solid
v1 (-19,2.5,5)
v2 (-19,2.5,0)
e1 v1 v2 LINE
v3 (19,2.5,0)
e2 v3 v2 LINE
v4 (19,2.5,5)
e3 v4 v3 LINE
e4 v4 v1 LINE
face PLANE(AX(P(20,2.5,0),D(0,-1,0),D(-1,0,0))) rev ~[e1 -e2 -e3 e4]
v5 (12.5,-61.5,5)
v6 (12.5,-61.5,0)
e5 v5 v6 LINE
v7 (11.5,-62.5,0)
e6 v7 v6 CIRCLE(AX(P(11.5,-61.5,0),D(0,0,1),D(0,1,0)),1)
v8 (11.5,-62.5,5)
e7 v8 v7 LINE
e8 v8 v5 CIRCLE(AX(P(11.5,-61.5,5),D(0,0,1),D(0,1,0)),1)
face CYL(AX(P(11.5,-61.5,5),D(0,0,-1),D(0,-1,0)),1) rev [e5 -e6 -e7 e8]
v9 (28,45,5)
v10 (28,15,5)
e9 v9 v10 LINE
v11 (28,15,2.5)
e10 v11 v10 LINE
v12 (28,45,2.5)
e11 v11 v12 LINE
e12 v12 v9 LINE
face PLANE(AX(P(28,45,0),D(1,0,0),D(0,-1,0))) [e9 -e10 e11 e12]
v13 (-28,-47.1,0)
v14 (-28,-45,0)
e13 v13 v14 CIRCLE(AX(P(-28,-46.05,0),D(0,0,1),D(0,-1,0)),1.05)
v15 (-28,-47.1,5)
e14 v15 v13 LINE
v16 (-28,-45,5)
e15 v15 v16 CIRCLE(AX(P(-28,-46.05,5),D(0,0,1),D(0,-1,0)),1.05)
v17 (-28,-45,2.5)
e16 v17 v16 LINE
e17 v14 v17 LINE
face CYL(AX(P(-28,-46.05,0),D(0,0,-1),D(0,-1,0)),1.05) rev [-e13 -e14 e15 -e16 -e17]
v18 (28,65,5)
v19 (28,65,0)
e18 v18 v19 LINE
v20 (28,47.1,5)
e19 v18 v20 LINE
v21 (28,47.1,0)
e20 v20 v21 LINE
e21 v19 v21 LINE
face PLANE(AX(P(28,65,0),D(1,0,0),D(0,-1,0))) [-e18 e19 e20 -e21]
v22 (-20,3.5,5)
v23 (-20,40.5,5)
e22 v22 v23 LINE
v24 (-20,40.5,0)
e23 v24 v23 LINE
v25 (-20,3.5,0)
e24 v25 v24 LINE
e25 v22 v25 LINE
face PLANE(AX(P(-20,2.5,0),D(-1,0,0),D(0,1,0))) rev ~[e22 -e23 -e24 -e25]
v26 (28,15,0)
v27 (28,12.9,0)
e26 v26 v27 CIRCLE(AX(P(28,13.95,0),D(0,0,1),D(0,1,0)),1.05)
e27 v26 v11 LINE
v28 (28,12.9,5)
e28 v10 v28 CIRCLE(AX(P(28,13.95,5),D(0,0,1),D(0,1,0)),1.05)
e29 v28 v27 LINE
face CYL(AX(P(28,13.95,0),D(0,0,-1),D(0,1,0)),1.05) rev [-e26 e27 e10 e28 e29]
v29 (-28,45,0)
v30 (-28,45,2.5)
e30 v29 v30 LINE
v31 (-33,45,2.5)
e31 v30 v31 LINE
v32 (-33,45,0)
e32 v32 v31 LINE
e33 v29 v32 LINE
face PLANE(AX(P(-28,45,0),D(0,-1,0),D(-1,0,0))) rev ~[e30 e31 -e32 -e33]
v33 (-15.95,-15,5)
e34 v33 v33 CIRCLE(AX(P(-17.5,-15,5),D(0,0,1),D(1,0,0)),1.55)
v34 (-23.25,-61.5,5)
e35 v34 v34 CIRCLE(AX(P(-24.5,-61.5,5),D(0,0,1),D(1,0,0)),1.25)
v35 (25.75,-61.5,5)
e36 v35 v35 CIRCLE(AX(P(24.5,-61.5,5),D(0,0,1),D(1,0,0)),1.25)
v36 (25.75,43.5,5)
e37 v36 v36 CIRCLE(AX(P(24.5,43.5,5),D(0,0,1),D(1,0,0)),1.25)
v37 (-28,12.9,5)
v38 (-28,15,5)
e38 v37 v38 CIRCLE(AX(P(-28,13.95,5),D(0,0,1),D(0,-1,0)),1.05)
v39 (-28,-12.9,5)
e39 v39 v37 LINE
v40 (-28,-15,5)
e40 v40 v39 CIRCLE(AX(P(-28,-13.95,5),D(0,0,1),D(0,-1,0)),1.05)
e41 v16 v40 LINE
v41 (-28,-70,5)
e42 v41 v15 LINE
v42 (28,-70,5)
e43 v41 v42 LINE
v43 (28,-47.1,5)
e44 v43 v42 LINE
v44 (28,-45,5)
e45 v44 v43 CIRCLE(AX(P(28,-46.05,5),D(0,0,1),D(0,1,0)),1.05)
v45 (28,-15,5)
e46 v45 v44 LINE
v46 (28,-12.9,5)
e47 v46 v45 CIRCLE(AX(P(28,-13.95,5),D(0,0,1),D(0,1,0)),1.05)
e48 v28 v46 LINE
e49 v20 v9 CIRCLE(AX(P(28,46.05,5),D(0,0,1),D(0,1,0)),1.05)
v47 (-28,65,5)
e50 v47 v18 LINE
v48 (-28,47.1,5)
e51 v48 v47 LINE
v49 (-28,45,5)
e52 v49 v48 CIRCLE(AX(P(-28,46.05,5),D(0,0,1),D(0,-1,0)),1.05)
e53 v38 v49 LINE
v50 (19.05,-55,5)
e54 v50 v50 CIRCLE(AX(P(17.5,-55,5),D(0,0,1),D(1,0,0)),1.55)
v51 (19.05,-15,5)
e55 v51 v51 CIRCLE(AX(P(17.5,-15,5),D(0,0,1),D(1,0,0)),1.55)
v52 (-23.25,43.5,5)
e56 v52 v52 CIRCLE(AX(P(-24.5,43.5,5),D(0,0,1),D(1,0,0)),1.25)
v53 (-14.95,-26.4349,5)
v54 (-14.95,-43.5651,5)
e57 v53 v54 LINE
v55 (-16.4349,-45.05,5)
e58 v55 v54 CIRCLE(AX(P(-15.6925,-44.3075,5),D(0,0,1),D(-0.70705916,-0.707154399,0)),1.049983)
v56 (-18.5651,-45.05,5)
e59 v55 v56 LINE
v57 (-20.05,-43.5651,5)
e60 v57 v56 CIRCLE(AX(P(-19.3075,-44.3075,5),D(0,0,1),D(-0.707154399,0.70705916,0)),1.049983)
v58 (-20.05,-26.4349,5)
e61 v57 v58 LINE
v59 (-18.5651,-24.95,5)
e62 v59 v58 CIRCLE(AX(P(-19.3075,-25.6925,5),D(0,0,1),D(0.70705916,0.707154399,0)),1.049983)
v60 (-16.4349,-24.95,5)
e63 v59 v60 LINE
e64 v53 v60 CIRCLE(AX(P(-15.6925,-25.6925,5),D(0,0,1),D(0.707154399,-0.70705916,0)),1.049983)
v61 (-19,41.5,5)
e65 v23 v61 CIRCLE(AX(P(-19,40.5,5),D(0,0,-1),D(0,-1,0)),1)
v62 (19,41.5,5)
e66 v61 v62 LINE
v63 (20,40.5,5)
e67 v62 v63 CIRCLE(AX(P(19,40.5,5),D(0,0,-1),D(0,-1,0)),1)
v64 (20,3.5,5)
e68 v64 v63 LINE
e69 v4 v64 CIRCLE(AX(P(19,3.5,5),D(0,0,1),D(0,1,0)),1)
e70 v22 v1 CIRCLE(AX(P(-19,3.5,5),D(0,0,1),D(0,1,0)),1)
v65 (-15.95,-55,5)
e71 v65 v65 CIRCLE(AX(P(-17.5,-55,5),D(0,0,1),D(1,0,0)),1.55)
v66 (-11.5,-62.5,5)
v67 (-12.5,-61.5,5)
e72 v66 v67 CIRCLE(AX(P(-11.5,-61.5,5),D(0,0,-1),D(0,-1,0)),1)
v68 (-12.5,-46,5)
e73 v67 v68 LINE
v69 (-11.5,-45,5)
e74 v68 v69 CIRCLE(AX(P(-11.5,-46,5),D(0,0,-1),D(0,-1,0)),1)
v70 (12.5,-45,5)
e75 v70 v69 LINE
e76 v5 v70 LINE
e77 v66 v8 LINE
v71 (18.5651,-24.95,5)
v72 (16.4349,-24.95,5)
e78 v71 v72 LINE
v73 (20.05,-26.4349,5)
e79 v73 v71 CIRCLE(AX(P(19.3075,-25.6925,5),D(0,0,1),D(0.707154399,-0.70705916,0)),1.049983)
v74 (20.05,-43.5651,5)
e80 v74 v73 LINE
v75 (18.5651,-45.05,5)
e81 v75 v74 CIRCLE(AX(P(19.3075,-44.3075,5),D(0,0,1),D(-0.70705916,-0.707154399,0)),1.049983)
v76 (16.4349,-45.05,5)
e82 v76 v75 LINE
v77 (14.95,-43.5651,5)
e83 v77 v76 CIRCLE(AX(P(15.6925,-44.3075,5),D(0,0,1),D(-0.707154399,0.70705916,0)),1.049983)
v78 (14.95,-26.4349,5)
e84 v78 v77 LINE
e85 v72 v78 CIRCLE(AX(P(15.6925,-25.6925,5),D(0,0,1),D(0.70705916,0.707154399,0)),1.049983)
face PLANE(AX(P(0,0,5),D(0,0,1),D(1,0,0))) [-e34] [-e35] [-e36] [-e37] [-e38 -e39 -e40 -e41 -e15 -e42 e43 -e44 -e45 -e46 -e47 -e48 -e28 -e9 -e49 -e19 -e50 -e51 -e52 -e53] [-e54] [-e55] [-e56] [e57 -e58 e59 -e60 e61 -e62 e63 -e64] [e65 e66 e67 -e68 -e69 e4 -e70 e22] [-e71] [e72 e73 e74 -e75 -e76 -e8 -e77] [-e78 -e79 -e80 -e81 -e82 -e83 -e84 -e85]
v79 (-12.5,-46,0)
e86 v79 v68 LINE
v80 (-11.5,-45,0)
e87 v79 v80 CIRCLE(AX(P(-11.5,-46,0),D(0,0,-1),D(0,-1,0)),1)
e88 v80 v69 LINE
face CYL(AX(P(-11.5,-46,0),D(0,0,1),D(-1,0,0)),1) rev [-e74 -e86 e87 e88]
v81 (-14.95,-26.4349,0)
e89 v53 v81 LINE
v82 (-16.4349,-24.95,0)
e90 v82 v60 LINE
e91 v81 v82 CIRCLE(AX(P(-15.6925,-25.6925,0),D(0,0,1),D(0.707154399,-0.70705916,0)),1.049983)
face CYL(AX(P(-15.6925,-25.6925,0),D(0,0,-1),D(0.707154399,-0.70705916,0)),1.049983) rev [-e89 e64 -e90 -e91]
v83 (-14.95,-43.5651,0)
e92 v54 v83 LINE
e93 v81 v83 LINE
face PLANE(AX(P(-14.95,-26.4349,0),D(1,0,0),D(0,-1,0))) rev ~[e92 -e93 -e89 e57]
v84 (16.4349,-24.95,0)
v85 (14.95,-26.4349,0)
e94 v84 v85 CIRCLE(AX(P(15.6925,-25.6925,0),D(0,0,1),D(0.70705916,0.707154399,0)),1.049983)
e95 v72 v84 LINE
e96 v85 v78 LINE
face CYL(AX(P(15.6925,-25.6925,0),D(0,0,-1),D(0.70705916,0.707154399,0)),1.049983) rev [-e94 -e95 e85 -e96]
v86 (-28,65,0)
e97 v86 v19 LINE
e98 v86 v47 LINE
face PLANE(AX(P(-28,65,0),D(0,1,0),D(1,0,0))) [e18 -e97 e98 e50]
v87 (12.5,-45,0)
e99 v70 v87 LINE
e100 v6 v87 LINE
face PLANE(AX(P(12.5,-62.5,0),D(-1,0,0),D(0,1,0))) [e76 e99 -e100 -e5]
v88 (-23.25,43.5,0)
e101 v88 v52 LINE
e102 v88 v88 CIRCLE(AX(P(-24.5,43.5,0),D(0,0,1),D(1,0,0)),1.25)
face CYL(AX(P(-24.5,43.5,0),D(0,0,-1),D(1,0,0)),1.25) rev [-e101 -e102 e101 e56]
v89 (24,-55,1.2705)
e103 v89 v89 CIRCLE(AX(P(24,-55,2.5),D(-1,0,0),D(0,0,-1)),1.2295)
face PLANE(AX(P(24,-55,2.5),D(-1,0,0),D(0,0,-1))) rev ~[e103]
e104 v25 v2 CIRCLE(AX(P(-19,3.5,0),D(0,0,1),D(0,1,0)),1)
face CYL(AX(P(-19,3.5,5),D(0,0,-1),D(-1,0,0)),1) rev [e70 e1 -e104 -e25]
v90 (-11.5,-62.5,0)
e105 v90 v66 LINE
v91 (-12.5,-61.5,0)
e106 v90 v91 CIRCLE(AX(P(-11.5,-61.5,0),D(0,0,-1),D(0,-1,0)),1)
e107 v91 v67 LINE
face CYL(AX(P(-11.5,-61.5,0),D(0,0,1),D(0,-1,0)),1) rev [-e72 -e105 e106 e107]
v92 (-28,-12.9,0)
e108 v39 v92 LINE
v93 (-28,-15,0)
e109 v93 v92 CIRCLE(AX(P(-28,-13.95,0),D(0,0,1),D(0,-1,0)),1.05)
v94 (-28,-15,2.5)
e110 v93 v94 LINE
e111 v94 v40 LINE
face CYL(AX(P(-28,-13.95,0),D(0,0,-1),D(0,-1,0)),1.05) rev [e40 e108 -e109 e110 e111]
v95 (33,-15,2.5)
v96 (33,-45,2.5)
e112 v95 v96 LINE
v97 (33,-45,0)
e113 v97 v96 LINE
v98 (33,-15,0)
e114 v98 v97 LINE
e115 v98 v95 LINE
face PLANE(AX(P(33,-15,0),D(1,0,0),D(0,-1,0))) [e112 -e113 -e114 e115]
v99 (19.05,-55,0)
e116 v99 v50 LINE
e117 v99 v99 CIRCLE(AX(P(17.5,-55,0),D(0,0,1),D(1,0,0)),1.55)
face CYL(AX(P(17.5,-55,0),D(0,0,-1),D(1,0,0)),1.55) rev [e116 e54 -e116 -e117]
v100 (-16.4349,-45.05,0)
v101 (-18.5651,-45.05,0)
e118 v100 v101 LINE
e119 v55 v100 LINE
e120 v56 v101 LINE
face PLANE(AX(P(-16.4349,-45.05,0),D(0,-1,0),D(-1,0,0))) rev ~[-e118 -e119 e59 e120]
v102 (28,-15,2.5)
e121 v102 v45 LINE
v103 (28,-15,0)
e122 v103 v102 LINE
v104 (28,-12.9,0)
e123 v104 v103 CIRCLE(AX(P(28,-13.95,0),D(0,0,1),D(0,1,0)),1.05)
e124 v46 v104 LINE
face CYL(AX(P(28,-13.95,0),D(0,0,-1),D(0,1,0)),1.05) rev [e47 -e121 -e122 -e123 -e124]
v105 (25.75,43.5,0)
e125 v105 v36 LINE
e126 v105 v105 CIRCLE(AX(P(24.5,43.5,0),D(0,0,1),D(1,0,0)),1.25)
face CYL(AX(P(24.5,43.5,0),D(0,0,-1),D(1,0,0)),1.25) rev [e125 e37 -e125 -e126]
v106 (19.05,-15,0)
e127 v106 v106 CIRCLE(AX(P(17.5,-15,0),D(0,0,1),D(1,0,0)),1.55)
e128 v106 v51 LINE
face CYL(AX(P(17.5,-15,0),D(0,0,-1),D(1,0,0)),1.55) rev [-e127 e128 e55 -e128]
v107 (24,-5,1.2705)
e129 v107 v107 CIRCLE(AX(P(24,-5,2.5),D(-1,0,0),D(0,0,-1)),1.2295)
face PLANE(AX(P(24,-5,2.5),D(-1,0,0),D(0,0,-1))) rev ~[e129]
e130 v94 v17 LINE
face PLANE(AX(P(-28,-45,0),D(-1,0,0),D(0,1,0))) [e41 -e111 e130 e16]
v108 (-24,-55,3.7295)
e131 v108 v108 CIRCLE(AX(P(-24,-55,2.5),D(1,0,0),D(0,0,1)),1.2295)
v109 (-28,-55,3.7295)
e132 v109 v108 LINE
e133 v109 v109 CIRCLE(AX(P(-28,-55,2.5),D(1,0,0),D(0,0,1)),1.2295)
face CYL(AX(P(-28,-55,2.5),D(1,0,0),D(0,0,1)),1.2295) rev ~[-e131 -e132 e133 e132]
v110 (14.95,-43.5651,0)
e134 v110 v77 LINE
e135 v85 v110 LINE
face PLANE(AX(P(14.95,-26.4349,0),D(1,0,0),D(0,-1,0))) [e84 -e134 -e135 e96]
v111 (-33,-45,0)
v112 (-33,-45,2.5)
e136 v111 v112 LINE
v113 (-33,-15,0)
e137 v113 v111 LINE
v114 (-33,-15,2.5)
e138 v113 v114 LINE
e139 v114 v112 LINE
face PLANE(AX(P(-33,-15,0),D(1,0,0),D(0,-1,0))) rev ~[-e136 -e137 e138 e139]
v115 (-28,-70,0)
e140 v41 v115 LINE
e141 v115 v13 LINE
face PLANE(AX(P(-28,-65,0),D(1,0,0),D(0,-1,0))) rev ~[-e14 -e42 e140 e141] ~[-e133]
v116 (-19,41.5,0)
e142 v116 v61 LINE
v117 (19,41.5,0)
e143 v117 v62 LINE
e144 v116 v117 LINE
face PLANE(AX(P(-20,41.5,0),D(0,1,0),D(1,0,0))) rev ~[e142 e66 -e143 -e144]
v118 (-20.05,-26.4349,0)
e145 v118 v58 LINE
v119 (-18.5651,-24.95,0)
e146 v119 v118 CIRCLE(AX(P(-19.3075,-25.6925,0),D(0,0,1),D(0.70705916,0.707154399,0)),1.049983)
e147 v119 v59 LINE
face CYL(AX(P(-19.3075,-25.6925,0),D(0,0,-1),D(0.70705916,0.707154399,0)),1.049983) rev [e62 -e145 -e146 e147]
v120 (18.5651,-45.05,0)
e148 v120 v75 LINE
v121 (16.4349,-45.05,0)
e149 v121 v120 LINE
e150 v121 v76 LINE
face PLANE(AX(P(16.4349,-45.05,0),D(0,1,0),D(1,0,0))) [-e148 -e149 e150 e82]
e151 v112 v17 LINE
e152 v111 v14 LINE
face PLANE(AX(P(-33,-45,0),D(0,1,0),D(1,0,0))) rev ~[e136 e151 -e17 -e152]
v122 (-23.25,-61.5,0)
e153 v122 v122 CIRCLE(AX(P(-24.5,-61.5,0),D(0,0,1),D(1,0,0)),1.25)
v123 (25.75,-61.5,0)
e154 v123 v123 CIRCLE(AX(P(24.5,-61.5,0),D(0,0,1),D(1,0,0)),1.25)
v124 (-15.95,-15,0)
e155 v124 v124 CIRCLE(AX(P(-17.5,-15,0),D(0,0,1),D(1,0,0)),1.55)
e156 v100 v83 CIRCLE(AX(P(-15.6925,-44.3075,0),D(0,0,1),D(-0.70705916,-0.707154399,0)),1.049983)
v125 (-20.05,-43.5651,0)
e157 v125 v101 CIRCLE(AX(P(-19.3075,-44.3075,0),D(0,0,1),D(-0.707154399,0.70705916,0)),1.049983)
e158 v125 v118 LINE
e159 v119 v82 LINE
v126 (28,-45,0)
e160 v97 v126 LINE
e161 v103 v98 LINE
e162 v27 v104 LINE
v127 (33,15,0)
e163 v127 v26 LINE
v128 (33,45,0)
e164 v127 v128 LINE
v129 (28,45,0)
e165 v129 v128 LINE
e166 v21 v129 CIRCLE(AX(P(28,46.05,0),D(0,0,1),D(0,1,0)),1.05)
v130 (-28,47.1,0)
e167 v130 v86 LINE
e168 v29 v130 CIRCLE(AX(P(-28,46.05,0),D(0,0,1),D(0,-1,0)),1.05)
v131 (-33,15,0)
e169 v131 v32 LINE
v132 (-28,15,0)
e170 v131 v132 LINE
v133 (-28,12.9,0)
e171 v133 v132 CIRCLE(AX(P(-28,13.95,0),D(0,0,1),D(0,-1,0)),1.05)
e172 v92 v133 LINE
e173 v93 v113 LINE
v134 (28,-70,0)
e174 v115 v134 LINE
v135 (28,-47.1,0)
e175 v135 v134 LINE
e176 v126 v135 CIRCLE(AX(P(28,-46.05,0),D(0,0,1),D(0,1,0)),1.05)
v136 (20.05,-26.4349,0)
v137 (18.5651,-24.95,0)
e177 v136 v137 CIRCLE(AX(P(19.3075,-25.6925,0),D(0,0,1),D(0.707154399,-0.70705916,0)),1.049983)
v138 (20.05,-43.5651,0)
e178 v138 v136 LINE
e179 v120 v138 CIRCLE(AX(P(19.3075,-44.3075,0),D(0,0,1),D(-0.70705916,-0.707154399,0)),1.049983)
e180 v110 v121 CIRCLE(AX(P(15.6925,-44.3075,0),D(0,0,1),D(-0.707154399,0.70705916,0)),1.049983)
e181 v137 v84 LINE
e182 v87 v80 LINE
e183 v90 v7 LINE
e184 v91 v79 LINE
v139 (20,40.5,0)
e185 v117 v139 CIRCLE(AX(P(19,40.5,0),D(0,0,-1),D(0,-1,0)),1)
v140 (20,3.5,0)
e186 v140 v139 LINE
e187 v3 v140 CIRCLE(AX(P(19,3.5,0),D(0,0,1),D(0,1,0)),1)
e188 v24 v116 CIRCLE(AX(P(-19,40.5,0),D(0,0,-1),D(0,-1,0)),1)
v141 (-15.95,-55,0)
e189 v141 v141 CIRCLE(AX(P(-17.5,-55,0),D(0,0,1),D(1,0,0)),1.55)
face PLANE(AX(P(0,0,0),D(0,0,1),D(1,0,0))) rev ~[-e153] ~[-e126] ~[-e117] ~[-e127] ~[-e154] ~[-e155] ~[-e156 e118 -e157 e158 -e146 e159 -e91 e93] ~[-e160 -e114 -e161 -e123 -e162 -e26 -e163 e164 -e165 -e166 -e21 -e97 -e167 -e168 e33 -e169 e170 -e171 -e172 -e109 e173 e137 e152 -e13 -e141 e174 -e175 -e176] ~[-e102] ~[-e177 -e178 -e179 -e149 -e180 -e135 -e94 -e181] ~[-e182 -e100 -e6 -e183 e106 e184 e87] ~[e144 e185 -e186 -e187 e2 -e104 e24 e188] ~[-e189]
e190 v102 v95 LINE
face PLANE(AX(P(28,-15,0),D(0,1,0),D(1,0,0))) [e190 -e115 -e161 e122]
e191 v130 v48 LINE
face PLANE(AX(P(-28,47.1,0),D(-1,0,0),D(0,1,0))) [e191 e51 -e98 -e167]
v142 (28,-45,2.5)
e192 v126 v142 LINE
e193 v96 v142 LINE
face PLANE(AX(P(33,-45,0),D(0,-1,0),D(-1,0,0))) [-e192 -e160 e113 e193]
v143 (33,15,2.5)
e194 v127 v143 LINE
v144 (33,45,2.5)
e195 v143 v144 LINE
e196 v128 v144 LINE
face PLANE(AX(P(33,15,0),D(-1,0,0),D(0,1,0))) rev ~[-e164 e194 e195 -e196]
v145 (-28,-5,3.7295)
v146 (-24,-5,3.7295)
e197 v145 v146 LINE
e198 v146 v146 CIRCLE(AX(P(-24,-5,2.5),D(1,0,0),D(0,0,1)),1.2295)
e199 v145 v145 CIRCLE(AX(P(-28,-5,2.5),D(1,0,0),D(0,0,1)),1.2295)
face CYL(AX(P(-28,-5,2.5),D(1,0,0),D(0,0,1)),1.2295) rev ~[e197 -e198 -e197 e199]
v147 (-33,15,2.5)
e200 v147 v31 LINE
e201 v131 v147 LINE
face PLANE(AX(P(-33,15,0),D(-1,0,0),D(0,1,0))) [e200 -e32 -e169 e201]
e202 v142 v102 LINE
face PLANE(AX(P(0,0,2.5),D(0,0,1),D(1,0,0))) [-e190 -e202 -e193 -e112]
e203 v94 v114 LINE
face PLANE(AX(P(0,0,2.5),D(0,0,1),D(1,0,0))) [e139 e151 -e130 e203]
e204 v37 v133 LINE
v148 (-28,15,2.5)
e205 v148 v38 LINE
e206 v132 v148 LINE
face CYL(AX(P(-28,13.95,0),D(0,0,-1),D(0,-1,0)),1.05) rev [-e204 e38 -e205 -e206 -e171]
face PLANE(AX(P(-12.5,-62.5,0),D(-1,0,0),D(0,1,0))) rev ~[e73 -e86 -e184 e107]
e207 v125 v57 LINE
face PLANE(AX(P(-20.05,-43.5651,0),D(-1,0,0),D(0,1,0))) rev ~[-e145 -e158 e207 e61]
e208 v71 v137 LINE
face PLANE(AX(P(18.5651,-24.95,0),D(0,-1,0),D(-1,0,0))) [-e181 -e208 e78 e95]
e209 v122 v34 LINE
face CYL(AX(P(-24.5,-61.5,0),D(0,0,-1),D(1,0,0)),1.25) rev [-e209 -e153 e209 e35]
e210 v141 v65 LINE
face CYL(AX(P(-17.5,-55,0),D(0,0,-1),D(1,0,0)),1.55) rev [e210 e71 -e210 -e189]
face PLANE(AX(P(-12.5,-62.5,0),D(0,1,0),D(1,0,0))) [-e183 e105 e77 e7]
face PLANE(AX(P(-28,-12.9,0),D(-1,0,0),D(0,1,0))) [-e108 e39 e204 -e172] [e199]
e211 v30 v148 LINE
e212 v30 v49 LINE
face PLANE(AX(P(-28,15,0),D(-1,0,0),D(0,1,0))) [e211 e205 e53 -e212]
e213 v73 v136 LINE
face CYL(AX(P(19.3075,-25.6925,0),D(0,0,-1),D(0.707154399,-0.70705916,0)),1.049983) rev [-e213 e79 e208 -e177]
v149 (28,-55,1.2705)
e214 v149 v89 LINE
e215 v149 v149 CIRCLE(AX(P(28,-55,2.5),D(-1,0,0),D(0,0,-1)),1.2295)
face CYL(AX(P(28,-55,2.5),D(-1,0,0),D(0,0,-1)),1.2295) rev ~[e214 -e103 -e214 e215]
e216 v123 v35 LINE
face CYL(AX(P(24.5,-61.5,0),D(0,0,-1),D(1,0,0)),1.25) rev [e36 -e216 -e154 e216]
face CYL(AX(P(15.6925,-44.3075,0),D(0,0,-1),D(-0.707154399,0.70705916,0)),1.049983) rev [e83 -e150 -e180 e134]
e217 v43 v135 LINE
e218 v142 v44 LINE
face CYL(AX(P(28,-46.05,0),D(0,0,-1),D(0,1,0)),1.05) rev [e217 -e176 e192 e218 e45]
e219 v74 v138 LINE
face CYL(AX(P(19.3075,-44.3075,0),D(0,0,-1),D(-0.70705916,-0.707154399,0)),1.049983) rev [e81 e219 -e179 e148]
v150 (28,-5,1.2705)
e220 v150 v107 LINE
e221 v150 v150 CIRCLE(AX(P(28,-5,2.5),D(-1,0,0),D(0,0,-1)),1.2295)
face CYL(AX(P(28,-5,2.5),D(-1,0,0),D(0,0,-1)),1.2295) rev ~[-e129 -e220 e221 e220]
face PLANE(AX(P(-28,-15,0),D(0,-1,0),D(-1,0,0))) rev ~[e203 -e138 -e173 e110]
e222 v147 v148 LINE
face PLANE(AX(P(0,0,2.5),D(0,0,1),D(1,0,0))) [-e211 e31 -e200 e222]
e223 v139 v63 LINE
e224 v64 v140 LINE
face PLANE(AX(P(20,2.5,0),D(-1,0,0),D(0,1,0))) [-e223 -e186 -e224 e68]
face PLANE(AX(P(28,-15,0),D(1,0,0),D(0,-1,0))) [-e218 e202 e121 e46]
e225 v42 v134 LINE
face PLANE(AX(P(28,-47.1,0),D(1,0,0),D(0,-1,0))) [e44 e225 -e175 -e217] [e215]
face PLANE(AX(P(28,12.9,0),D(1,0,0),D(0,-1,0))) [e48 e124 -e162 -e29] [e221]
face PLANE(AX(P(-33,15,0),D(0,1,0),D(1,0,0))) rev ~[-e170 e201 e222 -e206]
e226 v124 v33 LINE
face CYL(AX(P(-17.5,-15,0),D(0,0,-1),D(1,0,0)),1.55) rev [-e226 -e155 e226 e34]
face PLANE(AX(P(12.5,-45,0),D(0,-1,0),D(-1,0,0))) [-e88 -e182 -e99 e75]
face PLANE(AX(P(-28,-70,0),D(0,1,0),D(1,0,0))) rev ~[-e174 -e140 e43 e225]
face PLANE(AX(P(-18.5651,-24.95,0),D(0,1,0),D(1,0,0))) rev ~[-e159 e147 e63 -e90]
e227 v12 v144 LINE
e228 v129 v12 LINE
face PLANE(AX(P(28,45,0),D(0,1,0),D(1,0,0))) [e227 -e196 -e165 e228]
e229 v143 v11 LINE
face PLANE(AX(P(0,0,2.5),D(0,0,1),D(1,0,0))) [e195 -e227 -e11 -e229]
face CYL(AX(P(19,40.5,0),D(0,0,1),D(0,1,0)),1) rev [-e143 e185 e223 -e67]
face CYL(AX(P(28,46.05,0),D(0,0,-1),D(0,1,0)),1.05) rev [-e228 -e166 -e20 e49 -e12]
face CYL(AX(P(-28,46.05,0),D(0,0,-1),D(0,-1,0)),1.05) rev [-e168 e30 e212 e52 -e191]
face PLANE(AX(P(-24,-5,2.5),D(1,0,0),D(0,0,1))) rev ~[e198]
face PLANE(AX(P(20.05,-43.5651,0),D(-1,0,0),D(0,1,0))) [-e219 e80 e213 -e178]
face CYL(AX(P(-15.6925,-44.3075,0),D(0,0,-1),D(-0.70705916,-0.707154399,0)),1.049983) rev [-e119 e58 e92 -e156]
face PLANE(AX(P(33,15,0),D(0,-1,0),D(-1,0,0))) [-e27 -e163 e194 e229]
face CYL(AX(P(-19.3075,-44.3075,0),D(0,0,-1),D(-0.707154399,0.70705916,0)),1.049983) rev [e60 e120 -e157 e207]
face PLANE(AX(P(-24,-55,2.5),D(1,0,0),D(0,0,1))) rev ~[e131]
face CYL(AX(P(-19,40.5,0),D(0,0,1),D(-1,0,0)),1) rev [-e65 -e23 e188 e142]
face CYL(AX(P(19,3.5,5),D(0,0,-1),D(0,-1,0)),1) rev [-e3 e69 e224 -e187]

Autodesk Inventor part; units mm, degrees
ref_plane "YZ Plane" through (0, 0, 0) normal (1, 0, 0) x (0, 1, 0)
ref_plane "XZ Plane" through (0, 0, 0) normal (0, 1, 0) x (-1, 0, 0)
ref_plane "XY Plane" through (0, 0, 0) normal (0, 0, 1) x (1, 0, 0)
sketch "スケッチ1" plane through (0, 0, 0) normal (0, 0, 1) x (1, 0, 0)
  line L0 (-28, 65) -> (28, 65)
  line L1 (28, 65) -> (28, 47.1)
  line L2 (-28, -65) -> (-28, -47.1)
  line L3 (-28, 65) -> (28, -65) construction
  line L4 (28, 65) -> (-28, -65) construction
  line L5 (-28, 45) -> (-33, 45)
  line L6 (-33, 15) -> (-28, 15)
  line L7 (-33, 15) -> (-33, 45)
  line L8 (-28, -15) -> (-33, -15)
  line L9 (-33, -15) -> (-33, -45)
  line L10 (-33, -45) -> (-28, -45)
  arc A0 (-28, 45) -> (-28, 47.1) centre (-28, 46.05) ccw
  arc A1 (-28, 12.9) -> (-28, 15) centre (-28, 13.95) ccw
  arc A2 (-28, -15) -> (-28, -12.9) centre (-28, -13.95) ccw
  arc A3 (-28, -47.1) -> (-28, -45) centre (-28, -46.05) ccw
  line L11 (-28, 47.1) -> (-28, 65)
  line L12 (-28, 12.9) -> (-28, 15) construction
  line L13 (-28, -12.9) -> (-28, 12.9)
  line L14 (-28, -47.1) -> (-28, -45) construction
  line L15 (0, 65) -> (0, -65) construction
  arc A4 (28, -45) -> (28, -47.1) centre (28, -46.05) ccw
  line L16 (33, -45) -> (28, -45)
  line L17 (33, -15) -> (33, -45)
  line L18 (28, -15) -> (33, -15)
  arc A5 (28, -12.9) -> (28, -15) centre (28, -13.95) ccw
  arc A6 (28, 15) -> (28, 12.9) centre (28, 13.95) ccw
  line L19 (33, 15) -> (33, 45)
  line L20 (33, 15) -> (28, 15)
  line L21 (28, 45) -> (33, 45)
  arc A7 (28, 47.1) -> (28, 45) centre (28, 46.05) ccw
  line L22 (28, 47.1) -> (28, 45) construction
  line L23 (28, 12.9) -> (28, -12.9)
  line L24 (28, -47.1) -> (28, -65)
  line L25 (28, -12.9) -> (28, -15) construction
  line L26 (-28, -15) -> (-28, -12.9) construction
  line L27 (-28, -45) -> (-28, -15)
  line L28 (28, -15) -> (28, -45)
  line L29 (28, -45) -> (28, -47.1) construction
  line L30 (-20, -25) -> (-15, -25) construction
  line L31 (-15, -25) -> (-15, -45) construction
  line L32 (-15, -45) -> (-20, -45) construction
  line L33 (-20, -45) -> (-20, -25) construction
  line L34 (-20, -25) -> (-15, -45) construction
  line L35 (-15, -25) -> (-20, -45) construction
  line L36 (-20, 2.5) -> (-15, 2.5) construction
  line L37 (-15, 2.5) -> (-15, -72.5) construction
  line L38 (-15, -72.5) -> (-20, -72.5) construction
  line L39 (-20, -72.5) -> (-20, 2.5) construction
  line L40 (-20, 2.5) -> (-15, -72.5) construction
  line L41 (-15, 2.5) -> (-20, -72.5) construction
  circle A8 centre (-17.5, -55) radius 1.55
  line L42 (-20, -35) -> (-15, -35) construction
  line L43 (-17.5, 2.5) -> (-17.5, -72.5) construction
  circle A9 centre (-17.5, -15) radius 1.55
  circle A10 centre (17.5, -55) radius 1.55
  circle A11 centre (17.5, -15) radius 1.55
  line L44 (28, -65) -> (12.5, -65) construction
  line L45 (-12.5, -62.5) -> (-12.5, -45)
  line L46 (-12.5, -45) -> (0, -45)
  line L47 (12.5, -62.5) -> (12.5, -45)
  line L48 (12.5, -45) -> (0, -45)
  line L49 (-12.5, -65) -> (-28, -65) construction
  line L50 (12.5, -65) -> (-12.5, -65) construction
  line L51 (-28, 45) -> (-28, 47.1) construction
  line L52 (-28, 15) -> (-28, 45)
  line L53 (28, 15) -> (28, 12.9) construction
  line L54 (28, 45) -> (28, 15)
  circle A12 centre (-24.5, 43.5) radius 1.25
  line L55 (-28, 0) -> (28, 0) construction
  line L56 (-28, 46.5) -> (28, 46.5) construction
  circle A13 centre (-24.5, -61.5) radius 1.25
  circle A14 centre (24.5, 43.5) radius 1.25
  circle A15 centre (24.5, -61.5) radius 1.25
  circle A16 centre (-17.5, -55) radius 3 construction
  line L57 (-12.5, -62.5) -> (12.5, -62.5)
  line L58 (-20, 41.5) -> (20, 41.5)
  line L59 (20, 2.5) -> (-20, 2.5)
  line L60 (-20, 2.5) -> (-20, 41.5)
  line L61 (20, 2.5) -> (20, 41.5)
  line L62 (-20.05, -43.5651) -> (-18.5651, -45.05) construction
  line L63 (-19.3075, -44.3075) -> (-20.05, -45.05) construction
  arc A17 (-20.05, -43.5651) -> (-18.5651, -45.05) centre (-19.3075, -44.3075) ccw
  line L64 (-20.05, -24.95) -> (-18.5651, -24.95) construction
  line L65 (-14.95, -24.95) -> (-14.95, -26.4349) construction
  line L66 (-14.95, -45.05) -> (-16.4349, -45.05) construction
  line L67 (-20.05, -45.05) -> (-20.05, -43.5651) construction
  line L68 (-20.05, -24.95) -> (-14.95, -45.05) construction
  line L69 (-14.95, -24.95) -> (-20.05, -45.05) construction
  arc A18 (-16.4349, -45.05) -> (-14.95, -43.5651) centre (-15.6925, -44.3075) ccw
  arc A19 (-18.5651, -24.95) -> (-20.05, -26.4349) centre (-19.3075, -25.6925) ccw
  arc A20 (-14.95, -26.4349) -> (-16.4349, -24.95) centre (-15.6925, -25.6925) ccw
  line L70 (-20.05, -43.5651) -> (-20.05, -26.4349)
  line L71 (-18.5651, -45.05) -> (-20.05, -45.05) construction
  line L72 (-16.4349, -45.05) -> (-18.5651, -45.05)
  line L73 (-14.95, -43.5651) -> (-14.95, -45.05) construction
  line L74 (-20.05, -26.4349) -> (-20.05, -24.95) construction
  line L75 (-18.5651, -24.95) -> (-16.4349, -24.95)
  line L76 (-16.4349, -24.95) -> (-14.95, -24.95) construction
  line L77 (-14.95, -26.4349) -> (-14.95, -43.5651)
  arc A21 (18.5651, -45.05) -> (20.05, -43.5651) centre (19.3075, -44.3075) ccw
  arc A22 (14.95, -43.5651) -> (16.4349, -45.05) centre (15.6925, -44.3075) ccw
  arc A23 (16.4349, -24.95) -> (14.95, -26.4349) centre (15.6925, -25.6925) ccw
  arc A24 (20.05, -26.4349) -> (18.5651, -24.95) centre (19.3075, -25.6925) ccw
  line L78 (20.05, -43.5651) -> (20.05, -26.4349)
  line L79 (16.4349, -45.05) -> (18.5651, -45.05)
  line L80 (18.5651, -24.95) -> (16.4349, -24.95)
  line L81 (14.95, -26.4349) -> (14.95, -43.5651)
  line L82 (-28, -65) -> (-28, -70)
  line L83 (-28, -70) -> (28, -70)
  line L84 (28, -70) -> (28, -65)
  point P0 (0, 0)
  point P1 (0, 0)
  point P2 (0, 0)
  point P3 (28, 45)
  point P4 (-17.5, -35)
  point P5 (28, 45)
  dimension "d0" = 56
  dimension "d1" = 130
  dimension "d2" = 20
  dimension "d3" = 30
  dimension "d4" = 30
  dimension "d5" = 30
  dimension "d6" = 1.05
  dimension "d7" = 1.05
  dimension "d8" = 1.05
  dimension "d9" = 1.05
  dimension "d10" = 5
  dimension "d23" = 15
  dimension "d24" = 5
  dimension "d25" = 20
  dimension "d28" = 3.1
  dimension "d72" = 75
  dimension "d94" = 20
  dimension "d103" = 8
  dimension "d109" = 80
  dimension "d111" = 20
  dimension "d113" = 3.5
  dimension "d114" = 2.5
  dimension "d115" = 18.5
  dimension "d116" = 3
  dimension "d117" = 2.5
  dimension "d118" = 3.5
  dimension "d119" = 3.5
  dimension "d120" = 25
  dimension "d121" = 6
  dimension "d124" = 2.5
  dimension "d125" = 7.5
  dimension "d126" = 8
  dimension "d128" = 5
  dimension "d130" = 1.05
  dimension "d131" = 0.05
  dimension "d132" = 0.05
  dimension "d133" = 5
extrude "押し出し1" add sketch "スケッチ1" along normal blind 2.5
extrude "押し出し2" add sketch "スケッチ1" along normal blind 5 contours L0 L1 A7 L54 A6 L23 A5 L28 A4 L24 L84 L83 L82 L2 A3 L27 A2 L13 A1 L52 A0 L11
fillet "フィレット1" radius 1 7 edges at (-12.5, -45, 2.5) (-12.5, -62.5, 2.5) (12.5, -62.5, 2.5) (-20, 41.5, 2.5) (20, 41.5, 2.5) (20, 2.5, 2.5) (-20, 2.5, 2.5)
sketch "スケッチ7" plane through (28, -70, 0) normal (1, 0, 0) x (0, 0, -1)
  line L0 (0, 55) -> (-2.5, 55) projected
  line L1 (0, 57.1) -> (0, 82.9) projected
  line L2 (0, 0) -> (0, 22.9) projected
  point P0 (0, 70)
  point P1 (-2.5, 15)
  point P2 (-2.5, 65)
  point P3 (0, 25)
  dimension "d136" = 10
  dimension "d137" = 10
  dimension "d138" = 2.5
  dimension "d139" = 2.5
hole "穴6" at (28, -55, 2.5) at (28, -5, 2.5) direction (-1, 0, 0) diameter 2.459 depth 4 thread size "M3x0.5" class "6H" standard "ISO Metric profile"
sketch "スケッチ8" plane through (-28, -70, 0) normal (-1, 0, 0) x (0, 0, 1)
  circle A0 centre (2.5, 15) radius 1.2295 projected
  circle A1 centre (2.5, 65) radius 1.2295 projected
  point P0 (0, 70)
hole "穴7" at (-28, -5, 2.5) at (-28, -55, 2.5) direction (1, 0, 0) diameter 2.459 depth 4 thread size "M3x0.5" class "6H" standard "ISO Metric profile"
equation "\"d2\" = -0.5 * d4 + 0.5 * d1 - d3"
equation "\"d5\" = d3"
equation "\"d7\" = d6"
equation "\"d8\" = d7"
equation "\"d9\" = d8"
properties part number "Cockpit_horizontal_frame_02" material "アセタール樹脂、黒"
